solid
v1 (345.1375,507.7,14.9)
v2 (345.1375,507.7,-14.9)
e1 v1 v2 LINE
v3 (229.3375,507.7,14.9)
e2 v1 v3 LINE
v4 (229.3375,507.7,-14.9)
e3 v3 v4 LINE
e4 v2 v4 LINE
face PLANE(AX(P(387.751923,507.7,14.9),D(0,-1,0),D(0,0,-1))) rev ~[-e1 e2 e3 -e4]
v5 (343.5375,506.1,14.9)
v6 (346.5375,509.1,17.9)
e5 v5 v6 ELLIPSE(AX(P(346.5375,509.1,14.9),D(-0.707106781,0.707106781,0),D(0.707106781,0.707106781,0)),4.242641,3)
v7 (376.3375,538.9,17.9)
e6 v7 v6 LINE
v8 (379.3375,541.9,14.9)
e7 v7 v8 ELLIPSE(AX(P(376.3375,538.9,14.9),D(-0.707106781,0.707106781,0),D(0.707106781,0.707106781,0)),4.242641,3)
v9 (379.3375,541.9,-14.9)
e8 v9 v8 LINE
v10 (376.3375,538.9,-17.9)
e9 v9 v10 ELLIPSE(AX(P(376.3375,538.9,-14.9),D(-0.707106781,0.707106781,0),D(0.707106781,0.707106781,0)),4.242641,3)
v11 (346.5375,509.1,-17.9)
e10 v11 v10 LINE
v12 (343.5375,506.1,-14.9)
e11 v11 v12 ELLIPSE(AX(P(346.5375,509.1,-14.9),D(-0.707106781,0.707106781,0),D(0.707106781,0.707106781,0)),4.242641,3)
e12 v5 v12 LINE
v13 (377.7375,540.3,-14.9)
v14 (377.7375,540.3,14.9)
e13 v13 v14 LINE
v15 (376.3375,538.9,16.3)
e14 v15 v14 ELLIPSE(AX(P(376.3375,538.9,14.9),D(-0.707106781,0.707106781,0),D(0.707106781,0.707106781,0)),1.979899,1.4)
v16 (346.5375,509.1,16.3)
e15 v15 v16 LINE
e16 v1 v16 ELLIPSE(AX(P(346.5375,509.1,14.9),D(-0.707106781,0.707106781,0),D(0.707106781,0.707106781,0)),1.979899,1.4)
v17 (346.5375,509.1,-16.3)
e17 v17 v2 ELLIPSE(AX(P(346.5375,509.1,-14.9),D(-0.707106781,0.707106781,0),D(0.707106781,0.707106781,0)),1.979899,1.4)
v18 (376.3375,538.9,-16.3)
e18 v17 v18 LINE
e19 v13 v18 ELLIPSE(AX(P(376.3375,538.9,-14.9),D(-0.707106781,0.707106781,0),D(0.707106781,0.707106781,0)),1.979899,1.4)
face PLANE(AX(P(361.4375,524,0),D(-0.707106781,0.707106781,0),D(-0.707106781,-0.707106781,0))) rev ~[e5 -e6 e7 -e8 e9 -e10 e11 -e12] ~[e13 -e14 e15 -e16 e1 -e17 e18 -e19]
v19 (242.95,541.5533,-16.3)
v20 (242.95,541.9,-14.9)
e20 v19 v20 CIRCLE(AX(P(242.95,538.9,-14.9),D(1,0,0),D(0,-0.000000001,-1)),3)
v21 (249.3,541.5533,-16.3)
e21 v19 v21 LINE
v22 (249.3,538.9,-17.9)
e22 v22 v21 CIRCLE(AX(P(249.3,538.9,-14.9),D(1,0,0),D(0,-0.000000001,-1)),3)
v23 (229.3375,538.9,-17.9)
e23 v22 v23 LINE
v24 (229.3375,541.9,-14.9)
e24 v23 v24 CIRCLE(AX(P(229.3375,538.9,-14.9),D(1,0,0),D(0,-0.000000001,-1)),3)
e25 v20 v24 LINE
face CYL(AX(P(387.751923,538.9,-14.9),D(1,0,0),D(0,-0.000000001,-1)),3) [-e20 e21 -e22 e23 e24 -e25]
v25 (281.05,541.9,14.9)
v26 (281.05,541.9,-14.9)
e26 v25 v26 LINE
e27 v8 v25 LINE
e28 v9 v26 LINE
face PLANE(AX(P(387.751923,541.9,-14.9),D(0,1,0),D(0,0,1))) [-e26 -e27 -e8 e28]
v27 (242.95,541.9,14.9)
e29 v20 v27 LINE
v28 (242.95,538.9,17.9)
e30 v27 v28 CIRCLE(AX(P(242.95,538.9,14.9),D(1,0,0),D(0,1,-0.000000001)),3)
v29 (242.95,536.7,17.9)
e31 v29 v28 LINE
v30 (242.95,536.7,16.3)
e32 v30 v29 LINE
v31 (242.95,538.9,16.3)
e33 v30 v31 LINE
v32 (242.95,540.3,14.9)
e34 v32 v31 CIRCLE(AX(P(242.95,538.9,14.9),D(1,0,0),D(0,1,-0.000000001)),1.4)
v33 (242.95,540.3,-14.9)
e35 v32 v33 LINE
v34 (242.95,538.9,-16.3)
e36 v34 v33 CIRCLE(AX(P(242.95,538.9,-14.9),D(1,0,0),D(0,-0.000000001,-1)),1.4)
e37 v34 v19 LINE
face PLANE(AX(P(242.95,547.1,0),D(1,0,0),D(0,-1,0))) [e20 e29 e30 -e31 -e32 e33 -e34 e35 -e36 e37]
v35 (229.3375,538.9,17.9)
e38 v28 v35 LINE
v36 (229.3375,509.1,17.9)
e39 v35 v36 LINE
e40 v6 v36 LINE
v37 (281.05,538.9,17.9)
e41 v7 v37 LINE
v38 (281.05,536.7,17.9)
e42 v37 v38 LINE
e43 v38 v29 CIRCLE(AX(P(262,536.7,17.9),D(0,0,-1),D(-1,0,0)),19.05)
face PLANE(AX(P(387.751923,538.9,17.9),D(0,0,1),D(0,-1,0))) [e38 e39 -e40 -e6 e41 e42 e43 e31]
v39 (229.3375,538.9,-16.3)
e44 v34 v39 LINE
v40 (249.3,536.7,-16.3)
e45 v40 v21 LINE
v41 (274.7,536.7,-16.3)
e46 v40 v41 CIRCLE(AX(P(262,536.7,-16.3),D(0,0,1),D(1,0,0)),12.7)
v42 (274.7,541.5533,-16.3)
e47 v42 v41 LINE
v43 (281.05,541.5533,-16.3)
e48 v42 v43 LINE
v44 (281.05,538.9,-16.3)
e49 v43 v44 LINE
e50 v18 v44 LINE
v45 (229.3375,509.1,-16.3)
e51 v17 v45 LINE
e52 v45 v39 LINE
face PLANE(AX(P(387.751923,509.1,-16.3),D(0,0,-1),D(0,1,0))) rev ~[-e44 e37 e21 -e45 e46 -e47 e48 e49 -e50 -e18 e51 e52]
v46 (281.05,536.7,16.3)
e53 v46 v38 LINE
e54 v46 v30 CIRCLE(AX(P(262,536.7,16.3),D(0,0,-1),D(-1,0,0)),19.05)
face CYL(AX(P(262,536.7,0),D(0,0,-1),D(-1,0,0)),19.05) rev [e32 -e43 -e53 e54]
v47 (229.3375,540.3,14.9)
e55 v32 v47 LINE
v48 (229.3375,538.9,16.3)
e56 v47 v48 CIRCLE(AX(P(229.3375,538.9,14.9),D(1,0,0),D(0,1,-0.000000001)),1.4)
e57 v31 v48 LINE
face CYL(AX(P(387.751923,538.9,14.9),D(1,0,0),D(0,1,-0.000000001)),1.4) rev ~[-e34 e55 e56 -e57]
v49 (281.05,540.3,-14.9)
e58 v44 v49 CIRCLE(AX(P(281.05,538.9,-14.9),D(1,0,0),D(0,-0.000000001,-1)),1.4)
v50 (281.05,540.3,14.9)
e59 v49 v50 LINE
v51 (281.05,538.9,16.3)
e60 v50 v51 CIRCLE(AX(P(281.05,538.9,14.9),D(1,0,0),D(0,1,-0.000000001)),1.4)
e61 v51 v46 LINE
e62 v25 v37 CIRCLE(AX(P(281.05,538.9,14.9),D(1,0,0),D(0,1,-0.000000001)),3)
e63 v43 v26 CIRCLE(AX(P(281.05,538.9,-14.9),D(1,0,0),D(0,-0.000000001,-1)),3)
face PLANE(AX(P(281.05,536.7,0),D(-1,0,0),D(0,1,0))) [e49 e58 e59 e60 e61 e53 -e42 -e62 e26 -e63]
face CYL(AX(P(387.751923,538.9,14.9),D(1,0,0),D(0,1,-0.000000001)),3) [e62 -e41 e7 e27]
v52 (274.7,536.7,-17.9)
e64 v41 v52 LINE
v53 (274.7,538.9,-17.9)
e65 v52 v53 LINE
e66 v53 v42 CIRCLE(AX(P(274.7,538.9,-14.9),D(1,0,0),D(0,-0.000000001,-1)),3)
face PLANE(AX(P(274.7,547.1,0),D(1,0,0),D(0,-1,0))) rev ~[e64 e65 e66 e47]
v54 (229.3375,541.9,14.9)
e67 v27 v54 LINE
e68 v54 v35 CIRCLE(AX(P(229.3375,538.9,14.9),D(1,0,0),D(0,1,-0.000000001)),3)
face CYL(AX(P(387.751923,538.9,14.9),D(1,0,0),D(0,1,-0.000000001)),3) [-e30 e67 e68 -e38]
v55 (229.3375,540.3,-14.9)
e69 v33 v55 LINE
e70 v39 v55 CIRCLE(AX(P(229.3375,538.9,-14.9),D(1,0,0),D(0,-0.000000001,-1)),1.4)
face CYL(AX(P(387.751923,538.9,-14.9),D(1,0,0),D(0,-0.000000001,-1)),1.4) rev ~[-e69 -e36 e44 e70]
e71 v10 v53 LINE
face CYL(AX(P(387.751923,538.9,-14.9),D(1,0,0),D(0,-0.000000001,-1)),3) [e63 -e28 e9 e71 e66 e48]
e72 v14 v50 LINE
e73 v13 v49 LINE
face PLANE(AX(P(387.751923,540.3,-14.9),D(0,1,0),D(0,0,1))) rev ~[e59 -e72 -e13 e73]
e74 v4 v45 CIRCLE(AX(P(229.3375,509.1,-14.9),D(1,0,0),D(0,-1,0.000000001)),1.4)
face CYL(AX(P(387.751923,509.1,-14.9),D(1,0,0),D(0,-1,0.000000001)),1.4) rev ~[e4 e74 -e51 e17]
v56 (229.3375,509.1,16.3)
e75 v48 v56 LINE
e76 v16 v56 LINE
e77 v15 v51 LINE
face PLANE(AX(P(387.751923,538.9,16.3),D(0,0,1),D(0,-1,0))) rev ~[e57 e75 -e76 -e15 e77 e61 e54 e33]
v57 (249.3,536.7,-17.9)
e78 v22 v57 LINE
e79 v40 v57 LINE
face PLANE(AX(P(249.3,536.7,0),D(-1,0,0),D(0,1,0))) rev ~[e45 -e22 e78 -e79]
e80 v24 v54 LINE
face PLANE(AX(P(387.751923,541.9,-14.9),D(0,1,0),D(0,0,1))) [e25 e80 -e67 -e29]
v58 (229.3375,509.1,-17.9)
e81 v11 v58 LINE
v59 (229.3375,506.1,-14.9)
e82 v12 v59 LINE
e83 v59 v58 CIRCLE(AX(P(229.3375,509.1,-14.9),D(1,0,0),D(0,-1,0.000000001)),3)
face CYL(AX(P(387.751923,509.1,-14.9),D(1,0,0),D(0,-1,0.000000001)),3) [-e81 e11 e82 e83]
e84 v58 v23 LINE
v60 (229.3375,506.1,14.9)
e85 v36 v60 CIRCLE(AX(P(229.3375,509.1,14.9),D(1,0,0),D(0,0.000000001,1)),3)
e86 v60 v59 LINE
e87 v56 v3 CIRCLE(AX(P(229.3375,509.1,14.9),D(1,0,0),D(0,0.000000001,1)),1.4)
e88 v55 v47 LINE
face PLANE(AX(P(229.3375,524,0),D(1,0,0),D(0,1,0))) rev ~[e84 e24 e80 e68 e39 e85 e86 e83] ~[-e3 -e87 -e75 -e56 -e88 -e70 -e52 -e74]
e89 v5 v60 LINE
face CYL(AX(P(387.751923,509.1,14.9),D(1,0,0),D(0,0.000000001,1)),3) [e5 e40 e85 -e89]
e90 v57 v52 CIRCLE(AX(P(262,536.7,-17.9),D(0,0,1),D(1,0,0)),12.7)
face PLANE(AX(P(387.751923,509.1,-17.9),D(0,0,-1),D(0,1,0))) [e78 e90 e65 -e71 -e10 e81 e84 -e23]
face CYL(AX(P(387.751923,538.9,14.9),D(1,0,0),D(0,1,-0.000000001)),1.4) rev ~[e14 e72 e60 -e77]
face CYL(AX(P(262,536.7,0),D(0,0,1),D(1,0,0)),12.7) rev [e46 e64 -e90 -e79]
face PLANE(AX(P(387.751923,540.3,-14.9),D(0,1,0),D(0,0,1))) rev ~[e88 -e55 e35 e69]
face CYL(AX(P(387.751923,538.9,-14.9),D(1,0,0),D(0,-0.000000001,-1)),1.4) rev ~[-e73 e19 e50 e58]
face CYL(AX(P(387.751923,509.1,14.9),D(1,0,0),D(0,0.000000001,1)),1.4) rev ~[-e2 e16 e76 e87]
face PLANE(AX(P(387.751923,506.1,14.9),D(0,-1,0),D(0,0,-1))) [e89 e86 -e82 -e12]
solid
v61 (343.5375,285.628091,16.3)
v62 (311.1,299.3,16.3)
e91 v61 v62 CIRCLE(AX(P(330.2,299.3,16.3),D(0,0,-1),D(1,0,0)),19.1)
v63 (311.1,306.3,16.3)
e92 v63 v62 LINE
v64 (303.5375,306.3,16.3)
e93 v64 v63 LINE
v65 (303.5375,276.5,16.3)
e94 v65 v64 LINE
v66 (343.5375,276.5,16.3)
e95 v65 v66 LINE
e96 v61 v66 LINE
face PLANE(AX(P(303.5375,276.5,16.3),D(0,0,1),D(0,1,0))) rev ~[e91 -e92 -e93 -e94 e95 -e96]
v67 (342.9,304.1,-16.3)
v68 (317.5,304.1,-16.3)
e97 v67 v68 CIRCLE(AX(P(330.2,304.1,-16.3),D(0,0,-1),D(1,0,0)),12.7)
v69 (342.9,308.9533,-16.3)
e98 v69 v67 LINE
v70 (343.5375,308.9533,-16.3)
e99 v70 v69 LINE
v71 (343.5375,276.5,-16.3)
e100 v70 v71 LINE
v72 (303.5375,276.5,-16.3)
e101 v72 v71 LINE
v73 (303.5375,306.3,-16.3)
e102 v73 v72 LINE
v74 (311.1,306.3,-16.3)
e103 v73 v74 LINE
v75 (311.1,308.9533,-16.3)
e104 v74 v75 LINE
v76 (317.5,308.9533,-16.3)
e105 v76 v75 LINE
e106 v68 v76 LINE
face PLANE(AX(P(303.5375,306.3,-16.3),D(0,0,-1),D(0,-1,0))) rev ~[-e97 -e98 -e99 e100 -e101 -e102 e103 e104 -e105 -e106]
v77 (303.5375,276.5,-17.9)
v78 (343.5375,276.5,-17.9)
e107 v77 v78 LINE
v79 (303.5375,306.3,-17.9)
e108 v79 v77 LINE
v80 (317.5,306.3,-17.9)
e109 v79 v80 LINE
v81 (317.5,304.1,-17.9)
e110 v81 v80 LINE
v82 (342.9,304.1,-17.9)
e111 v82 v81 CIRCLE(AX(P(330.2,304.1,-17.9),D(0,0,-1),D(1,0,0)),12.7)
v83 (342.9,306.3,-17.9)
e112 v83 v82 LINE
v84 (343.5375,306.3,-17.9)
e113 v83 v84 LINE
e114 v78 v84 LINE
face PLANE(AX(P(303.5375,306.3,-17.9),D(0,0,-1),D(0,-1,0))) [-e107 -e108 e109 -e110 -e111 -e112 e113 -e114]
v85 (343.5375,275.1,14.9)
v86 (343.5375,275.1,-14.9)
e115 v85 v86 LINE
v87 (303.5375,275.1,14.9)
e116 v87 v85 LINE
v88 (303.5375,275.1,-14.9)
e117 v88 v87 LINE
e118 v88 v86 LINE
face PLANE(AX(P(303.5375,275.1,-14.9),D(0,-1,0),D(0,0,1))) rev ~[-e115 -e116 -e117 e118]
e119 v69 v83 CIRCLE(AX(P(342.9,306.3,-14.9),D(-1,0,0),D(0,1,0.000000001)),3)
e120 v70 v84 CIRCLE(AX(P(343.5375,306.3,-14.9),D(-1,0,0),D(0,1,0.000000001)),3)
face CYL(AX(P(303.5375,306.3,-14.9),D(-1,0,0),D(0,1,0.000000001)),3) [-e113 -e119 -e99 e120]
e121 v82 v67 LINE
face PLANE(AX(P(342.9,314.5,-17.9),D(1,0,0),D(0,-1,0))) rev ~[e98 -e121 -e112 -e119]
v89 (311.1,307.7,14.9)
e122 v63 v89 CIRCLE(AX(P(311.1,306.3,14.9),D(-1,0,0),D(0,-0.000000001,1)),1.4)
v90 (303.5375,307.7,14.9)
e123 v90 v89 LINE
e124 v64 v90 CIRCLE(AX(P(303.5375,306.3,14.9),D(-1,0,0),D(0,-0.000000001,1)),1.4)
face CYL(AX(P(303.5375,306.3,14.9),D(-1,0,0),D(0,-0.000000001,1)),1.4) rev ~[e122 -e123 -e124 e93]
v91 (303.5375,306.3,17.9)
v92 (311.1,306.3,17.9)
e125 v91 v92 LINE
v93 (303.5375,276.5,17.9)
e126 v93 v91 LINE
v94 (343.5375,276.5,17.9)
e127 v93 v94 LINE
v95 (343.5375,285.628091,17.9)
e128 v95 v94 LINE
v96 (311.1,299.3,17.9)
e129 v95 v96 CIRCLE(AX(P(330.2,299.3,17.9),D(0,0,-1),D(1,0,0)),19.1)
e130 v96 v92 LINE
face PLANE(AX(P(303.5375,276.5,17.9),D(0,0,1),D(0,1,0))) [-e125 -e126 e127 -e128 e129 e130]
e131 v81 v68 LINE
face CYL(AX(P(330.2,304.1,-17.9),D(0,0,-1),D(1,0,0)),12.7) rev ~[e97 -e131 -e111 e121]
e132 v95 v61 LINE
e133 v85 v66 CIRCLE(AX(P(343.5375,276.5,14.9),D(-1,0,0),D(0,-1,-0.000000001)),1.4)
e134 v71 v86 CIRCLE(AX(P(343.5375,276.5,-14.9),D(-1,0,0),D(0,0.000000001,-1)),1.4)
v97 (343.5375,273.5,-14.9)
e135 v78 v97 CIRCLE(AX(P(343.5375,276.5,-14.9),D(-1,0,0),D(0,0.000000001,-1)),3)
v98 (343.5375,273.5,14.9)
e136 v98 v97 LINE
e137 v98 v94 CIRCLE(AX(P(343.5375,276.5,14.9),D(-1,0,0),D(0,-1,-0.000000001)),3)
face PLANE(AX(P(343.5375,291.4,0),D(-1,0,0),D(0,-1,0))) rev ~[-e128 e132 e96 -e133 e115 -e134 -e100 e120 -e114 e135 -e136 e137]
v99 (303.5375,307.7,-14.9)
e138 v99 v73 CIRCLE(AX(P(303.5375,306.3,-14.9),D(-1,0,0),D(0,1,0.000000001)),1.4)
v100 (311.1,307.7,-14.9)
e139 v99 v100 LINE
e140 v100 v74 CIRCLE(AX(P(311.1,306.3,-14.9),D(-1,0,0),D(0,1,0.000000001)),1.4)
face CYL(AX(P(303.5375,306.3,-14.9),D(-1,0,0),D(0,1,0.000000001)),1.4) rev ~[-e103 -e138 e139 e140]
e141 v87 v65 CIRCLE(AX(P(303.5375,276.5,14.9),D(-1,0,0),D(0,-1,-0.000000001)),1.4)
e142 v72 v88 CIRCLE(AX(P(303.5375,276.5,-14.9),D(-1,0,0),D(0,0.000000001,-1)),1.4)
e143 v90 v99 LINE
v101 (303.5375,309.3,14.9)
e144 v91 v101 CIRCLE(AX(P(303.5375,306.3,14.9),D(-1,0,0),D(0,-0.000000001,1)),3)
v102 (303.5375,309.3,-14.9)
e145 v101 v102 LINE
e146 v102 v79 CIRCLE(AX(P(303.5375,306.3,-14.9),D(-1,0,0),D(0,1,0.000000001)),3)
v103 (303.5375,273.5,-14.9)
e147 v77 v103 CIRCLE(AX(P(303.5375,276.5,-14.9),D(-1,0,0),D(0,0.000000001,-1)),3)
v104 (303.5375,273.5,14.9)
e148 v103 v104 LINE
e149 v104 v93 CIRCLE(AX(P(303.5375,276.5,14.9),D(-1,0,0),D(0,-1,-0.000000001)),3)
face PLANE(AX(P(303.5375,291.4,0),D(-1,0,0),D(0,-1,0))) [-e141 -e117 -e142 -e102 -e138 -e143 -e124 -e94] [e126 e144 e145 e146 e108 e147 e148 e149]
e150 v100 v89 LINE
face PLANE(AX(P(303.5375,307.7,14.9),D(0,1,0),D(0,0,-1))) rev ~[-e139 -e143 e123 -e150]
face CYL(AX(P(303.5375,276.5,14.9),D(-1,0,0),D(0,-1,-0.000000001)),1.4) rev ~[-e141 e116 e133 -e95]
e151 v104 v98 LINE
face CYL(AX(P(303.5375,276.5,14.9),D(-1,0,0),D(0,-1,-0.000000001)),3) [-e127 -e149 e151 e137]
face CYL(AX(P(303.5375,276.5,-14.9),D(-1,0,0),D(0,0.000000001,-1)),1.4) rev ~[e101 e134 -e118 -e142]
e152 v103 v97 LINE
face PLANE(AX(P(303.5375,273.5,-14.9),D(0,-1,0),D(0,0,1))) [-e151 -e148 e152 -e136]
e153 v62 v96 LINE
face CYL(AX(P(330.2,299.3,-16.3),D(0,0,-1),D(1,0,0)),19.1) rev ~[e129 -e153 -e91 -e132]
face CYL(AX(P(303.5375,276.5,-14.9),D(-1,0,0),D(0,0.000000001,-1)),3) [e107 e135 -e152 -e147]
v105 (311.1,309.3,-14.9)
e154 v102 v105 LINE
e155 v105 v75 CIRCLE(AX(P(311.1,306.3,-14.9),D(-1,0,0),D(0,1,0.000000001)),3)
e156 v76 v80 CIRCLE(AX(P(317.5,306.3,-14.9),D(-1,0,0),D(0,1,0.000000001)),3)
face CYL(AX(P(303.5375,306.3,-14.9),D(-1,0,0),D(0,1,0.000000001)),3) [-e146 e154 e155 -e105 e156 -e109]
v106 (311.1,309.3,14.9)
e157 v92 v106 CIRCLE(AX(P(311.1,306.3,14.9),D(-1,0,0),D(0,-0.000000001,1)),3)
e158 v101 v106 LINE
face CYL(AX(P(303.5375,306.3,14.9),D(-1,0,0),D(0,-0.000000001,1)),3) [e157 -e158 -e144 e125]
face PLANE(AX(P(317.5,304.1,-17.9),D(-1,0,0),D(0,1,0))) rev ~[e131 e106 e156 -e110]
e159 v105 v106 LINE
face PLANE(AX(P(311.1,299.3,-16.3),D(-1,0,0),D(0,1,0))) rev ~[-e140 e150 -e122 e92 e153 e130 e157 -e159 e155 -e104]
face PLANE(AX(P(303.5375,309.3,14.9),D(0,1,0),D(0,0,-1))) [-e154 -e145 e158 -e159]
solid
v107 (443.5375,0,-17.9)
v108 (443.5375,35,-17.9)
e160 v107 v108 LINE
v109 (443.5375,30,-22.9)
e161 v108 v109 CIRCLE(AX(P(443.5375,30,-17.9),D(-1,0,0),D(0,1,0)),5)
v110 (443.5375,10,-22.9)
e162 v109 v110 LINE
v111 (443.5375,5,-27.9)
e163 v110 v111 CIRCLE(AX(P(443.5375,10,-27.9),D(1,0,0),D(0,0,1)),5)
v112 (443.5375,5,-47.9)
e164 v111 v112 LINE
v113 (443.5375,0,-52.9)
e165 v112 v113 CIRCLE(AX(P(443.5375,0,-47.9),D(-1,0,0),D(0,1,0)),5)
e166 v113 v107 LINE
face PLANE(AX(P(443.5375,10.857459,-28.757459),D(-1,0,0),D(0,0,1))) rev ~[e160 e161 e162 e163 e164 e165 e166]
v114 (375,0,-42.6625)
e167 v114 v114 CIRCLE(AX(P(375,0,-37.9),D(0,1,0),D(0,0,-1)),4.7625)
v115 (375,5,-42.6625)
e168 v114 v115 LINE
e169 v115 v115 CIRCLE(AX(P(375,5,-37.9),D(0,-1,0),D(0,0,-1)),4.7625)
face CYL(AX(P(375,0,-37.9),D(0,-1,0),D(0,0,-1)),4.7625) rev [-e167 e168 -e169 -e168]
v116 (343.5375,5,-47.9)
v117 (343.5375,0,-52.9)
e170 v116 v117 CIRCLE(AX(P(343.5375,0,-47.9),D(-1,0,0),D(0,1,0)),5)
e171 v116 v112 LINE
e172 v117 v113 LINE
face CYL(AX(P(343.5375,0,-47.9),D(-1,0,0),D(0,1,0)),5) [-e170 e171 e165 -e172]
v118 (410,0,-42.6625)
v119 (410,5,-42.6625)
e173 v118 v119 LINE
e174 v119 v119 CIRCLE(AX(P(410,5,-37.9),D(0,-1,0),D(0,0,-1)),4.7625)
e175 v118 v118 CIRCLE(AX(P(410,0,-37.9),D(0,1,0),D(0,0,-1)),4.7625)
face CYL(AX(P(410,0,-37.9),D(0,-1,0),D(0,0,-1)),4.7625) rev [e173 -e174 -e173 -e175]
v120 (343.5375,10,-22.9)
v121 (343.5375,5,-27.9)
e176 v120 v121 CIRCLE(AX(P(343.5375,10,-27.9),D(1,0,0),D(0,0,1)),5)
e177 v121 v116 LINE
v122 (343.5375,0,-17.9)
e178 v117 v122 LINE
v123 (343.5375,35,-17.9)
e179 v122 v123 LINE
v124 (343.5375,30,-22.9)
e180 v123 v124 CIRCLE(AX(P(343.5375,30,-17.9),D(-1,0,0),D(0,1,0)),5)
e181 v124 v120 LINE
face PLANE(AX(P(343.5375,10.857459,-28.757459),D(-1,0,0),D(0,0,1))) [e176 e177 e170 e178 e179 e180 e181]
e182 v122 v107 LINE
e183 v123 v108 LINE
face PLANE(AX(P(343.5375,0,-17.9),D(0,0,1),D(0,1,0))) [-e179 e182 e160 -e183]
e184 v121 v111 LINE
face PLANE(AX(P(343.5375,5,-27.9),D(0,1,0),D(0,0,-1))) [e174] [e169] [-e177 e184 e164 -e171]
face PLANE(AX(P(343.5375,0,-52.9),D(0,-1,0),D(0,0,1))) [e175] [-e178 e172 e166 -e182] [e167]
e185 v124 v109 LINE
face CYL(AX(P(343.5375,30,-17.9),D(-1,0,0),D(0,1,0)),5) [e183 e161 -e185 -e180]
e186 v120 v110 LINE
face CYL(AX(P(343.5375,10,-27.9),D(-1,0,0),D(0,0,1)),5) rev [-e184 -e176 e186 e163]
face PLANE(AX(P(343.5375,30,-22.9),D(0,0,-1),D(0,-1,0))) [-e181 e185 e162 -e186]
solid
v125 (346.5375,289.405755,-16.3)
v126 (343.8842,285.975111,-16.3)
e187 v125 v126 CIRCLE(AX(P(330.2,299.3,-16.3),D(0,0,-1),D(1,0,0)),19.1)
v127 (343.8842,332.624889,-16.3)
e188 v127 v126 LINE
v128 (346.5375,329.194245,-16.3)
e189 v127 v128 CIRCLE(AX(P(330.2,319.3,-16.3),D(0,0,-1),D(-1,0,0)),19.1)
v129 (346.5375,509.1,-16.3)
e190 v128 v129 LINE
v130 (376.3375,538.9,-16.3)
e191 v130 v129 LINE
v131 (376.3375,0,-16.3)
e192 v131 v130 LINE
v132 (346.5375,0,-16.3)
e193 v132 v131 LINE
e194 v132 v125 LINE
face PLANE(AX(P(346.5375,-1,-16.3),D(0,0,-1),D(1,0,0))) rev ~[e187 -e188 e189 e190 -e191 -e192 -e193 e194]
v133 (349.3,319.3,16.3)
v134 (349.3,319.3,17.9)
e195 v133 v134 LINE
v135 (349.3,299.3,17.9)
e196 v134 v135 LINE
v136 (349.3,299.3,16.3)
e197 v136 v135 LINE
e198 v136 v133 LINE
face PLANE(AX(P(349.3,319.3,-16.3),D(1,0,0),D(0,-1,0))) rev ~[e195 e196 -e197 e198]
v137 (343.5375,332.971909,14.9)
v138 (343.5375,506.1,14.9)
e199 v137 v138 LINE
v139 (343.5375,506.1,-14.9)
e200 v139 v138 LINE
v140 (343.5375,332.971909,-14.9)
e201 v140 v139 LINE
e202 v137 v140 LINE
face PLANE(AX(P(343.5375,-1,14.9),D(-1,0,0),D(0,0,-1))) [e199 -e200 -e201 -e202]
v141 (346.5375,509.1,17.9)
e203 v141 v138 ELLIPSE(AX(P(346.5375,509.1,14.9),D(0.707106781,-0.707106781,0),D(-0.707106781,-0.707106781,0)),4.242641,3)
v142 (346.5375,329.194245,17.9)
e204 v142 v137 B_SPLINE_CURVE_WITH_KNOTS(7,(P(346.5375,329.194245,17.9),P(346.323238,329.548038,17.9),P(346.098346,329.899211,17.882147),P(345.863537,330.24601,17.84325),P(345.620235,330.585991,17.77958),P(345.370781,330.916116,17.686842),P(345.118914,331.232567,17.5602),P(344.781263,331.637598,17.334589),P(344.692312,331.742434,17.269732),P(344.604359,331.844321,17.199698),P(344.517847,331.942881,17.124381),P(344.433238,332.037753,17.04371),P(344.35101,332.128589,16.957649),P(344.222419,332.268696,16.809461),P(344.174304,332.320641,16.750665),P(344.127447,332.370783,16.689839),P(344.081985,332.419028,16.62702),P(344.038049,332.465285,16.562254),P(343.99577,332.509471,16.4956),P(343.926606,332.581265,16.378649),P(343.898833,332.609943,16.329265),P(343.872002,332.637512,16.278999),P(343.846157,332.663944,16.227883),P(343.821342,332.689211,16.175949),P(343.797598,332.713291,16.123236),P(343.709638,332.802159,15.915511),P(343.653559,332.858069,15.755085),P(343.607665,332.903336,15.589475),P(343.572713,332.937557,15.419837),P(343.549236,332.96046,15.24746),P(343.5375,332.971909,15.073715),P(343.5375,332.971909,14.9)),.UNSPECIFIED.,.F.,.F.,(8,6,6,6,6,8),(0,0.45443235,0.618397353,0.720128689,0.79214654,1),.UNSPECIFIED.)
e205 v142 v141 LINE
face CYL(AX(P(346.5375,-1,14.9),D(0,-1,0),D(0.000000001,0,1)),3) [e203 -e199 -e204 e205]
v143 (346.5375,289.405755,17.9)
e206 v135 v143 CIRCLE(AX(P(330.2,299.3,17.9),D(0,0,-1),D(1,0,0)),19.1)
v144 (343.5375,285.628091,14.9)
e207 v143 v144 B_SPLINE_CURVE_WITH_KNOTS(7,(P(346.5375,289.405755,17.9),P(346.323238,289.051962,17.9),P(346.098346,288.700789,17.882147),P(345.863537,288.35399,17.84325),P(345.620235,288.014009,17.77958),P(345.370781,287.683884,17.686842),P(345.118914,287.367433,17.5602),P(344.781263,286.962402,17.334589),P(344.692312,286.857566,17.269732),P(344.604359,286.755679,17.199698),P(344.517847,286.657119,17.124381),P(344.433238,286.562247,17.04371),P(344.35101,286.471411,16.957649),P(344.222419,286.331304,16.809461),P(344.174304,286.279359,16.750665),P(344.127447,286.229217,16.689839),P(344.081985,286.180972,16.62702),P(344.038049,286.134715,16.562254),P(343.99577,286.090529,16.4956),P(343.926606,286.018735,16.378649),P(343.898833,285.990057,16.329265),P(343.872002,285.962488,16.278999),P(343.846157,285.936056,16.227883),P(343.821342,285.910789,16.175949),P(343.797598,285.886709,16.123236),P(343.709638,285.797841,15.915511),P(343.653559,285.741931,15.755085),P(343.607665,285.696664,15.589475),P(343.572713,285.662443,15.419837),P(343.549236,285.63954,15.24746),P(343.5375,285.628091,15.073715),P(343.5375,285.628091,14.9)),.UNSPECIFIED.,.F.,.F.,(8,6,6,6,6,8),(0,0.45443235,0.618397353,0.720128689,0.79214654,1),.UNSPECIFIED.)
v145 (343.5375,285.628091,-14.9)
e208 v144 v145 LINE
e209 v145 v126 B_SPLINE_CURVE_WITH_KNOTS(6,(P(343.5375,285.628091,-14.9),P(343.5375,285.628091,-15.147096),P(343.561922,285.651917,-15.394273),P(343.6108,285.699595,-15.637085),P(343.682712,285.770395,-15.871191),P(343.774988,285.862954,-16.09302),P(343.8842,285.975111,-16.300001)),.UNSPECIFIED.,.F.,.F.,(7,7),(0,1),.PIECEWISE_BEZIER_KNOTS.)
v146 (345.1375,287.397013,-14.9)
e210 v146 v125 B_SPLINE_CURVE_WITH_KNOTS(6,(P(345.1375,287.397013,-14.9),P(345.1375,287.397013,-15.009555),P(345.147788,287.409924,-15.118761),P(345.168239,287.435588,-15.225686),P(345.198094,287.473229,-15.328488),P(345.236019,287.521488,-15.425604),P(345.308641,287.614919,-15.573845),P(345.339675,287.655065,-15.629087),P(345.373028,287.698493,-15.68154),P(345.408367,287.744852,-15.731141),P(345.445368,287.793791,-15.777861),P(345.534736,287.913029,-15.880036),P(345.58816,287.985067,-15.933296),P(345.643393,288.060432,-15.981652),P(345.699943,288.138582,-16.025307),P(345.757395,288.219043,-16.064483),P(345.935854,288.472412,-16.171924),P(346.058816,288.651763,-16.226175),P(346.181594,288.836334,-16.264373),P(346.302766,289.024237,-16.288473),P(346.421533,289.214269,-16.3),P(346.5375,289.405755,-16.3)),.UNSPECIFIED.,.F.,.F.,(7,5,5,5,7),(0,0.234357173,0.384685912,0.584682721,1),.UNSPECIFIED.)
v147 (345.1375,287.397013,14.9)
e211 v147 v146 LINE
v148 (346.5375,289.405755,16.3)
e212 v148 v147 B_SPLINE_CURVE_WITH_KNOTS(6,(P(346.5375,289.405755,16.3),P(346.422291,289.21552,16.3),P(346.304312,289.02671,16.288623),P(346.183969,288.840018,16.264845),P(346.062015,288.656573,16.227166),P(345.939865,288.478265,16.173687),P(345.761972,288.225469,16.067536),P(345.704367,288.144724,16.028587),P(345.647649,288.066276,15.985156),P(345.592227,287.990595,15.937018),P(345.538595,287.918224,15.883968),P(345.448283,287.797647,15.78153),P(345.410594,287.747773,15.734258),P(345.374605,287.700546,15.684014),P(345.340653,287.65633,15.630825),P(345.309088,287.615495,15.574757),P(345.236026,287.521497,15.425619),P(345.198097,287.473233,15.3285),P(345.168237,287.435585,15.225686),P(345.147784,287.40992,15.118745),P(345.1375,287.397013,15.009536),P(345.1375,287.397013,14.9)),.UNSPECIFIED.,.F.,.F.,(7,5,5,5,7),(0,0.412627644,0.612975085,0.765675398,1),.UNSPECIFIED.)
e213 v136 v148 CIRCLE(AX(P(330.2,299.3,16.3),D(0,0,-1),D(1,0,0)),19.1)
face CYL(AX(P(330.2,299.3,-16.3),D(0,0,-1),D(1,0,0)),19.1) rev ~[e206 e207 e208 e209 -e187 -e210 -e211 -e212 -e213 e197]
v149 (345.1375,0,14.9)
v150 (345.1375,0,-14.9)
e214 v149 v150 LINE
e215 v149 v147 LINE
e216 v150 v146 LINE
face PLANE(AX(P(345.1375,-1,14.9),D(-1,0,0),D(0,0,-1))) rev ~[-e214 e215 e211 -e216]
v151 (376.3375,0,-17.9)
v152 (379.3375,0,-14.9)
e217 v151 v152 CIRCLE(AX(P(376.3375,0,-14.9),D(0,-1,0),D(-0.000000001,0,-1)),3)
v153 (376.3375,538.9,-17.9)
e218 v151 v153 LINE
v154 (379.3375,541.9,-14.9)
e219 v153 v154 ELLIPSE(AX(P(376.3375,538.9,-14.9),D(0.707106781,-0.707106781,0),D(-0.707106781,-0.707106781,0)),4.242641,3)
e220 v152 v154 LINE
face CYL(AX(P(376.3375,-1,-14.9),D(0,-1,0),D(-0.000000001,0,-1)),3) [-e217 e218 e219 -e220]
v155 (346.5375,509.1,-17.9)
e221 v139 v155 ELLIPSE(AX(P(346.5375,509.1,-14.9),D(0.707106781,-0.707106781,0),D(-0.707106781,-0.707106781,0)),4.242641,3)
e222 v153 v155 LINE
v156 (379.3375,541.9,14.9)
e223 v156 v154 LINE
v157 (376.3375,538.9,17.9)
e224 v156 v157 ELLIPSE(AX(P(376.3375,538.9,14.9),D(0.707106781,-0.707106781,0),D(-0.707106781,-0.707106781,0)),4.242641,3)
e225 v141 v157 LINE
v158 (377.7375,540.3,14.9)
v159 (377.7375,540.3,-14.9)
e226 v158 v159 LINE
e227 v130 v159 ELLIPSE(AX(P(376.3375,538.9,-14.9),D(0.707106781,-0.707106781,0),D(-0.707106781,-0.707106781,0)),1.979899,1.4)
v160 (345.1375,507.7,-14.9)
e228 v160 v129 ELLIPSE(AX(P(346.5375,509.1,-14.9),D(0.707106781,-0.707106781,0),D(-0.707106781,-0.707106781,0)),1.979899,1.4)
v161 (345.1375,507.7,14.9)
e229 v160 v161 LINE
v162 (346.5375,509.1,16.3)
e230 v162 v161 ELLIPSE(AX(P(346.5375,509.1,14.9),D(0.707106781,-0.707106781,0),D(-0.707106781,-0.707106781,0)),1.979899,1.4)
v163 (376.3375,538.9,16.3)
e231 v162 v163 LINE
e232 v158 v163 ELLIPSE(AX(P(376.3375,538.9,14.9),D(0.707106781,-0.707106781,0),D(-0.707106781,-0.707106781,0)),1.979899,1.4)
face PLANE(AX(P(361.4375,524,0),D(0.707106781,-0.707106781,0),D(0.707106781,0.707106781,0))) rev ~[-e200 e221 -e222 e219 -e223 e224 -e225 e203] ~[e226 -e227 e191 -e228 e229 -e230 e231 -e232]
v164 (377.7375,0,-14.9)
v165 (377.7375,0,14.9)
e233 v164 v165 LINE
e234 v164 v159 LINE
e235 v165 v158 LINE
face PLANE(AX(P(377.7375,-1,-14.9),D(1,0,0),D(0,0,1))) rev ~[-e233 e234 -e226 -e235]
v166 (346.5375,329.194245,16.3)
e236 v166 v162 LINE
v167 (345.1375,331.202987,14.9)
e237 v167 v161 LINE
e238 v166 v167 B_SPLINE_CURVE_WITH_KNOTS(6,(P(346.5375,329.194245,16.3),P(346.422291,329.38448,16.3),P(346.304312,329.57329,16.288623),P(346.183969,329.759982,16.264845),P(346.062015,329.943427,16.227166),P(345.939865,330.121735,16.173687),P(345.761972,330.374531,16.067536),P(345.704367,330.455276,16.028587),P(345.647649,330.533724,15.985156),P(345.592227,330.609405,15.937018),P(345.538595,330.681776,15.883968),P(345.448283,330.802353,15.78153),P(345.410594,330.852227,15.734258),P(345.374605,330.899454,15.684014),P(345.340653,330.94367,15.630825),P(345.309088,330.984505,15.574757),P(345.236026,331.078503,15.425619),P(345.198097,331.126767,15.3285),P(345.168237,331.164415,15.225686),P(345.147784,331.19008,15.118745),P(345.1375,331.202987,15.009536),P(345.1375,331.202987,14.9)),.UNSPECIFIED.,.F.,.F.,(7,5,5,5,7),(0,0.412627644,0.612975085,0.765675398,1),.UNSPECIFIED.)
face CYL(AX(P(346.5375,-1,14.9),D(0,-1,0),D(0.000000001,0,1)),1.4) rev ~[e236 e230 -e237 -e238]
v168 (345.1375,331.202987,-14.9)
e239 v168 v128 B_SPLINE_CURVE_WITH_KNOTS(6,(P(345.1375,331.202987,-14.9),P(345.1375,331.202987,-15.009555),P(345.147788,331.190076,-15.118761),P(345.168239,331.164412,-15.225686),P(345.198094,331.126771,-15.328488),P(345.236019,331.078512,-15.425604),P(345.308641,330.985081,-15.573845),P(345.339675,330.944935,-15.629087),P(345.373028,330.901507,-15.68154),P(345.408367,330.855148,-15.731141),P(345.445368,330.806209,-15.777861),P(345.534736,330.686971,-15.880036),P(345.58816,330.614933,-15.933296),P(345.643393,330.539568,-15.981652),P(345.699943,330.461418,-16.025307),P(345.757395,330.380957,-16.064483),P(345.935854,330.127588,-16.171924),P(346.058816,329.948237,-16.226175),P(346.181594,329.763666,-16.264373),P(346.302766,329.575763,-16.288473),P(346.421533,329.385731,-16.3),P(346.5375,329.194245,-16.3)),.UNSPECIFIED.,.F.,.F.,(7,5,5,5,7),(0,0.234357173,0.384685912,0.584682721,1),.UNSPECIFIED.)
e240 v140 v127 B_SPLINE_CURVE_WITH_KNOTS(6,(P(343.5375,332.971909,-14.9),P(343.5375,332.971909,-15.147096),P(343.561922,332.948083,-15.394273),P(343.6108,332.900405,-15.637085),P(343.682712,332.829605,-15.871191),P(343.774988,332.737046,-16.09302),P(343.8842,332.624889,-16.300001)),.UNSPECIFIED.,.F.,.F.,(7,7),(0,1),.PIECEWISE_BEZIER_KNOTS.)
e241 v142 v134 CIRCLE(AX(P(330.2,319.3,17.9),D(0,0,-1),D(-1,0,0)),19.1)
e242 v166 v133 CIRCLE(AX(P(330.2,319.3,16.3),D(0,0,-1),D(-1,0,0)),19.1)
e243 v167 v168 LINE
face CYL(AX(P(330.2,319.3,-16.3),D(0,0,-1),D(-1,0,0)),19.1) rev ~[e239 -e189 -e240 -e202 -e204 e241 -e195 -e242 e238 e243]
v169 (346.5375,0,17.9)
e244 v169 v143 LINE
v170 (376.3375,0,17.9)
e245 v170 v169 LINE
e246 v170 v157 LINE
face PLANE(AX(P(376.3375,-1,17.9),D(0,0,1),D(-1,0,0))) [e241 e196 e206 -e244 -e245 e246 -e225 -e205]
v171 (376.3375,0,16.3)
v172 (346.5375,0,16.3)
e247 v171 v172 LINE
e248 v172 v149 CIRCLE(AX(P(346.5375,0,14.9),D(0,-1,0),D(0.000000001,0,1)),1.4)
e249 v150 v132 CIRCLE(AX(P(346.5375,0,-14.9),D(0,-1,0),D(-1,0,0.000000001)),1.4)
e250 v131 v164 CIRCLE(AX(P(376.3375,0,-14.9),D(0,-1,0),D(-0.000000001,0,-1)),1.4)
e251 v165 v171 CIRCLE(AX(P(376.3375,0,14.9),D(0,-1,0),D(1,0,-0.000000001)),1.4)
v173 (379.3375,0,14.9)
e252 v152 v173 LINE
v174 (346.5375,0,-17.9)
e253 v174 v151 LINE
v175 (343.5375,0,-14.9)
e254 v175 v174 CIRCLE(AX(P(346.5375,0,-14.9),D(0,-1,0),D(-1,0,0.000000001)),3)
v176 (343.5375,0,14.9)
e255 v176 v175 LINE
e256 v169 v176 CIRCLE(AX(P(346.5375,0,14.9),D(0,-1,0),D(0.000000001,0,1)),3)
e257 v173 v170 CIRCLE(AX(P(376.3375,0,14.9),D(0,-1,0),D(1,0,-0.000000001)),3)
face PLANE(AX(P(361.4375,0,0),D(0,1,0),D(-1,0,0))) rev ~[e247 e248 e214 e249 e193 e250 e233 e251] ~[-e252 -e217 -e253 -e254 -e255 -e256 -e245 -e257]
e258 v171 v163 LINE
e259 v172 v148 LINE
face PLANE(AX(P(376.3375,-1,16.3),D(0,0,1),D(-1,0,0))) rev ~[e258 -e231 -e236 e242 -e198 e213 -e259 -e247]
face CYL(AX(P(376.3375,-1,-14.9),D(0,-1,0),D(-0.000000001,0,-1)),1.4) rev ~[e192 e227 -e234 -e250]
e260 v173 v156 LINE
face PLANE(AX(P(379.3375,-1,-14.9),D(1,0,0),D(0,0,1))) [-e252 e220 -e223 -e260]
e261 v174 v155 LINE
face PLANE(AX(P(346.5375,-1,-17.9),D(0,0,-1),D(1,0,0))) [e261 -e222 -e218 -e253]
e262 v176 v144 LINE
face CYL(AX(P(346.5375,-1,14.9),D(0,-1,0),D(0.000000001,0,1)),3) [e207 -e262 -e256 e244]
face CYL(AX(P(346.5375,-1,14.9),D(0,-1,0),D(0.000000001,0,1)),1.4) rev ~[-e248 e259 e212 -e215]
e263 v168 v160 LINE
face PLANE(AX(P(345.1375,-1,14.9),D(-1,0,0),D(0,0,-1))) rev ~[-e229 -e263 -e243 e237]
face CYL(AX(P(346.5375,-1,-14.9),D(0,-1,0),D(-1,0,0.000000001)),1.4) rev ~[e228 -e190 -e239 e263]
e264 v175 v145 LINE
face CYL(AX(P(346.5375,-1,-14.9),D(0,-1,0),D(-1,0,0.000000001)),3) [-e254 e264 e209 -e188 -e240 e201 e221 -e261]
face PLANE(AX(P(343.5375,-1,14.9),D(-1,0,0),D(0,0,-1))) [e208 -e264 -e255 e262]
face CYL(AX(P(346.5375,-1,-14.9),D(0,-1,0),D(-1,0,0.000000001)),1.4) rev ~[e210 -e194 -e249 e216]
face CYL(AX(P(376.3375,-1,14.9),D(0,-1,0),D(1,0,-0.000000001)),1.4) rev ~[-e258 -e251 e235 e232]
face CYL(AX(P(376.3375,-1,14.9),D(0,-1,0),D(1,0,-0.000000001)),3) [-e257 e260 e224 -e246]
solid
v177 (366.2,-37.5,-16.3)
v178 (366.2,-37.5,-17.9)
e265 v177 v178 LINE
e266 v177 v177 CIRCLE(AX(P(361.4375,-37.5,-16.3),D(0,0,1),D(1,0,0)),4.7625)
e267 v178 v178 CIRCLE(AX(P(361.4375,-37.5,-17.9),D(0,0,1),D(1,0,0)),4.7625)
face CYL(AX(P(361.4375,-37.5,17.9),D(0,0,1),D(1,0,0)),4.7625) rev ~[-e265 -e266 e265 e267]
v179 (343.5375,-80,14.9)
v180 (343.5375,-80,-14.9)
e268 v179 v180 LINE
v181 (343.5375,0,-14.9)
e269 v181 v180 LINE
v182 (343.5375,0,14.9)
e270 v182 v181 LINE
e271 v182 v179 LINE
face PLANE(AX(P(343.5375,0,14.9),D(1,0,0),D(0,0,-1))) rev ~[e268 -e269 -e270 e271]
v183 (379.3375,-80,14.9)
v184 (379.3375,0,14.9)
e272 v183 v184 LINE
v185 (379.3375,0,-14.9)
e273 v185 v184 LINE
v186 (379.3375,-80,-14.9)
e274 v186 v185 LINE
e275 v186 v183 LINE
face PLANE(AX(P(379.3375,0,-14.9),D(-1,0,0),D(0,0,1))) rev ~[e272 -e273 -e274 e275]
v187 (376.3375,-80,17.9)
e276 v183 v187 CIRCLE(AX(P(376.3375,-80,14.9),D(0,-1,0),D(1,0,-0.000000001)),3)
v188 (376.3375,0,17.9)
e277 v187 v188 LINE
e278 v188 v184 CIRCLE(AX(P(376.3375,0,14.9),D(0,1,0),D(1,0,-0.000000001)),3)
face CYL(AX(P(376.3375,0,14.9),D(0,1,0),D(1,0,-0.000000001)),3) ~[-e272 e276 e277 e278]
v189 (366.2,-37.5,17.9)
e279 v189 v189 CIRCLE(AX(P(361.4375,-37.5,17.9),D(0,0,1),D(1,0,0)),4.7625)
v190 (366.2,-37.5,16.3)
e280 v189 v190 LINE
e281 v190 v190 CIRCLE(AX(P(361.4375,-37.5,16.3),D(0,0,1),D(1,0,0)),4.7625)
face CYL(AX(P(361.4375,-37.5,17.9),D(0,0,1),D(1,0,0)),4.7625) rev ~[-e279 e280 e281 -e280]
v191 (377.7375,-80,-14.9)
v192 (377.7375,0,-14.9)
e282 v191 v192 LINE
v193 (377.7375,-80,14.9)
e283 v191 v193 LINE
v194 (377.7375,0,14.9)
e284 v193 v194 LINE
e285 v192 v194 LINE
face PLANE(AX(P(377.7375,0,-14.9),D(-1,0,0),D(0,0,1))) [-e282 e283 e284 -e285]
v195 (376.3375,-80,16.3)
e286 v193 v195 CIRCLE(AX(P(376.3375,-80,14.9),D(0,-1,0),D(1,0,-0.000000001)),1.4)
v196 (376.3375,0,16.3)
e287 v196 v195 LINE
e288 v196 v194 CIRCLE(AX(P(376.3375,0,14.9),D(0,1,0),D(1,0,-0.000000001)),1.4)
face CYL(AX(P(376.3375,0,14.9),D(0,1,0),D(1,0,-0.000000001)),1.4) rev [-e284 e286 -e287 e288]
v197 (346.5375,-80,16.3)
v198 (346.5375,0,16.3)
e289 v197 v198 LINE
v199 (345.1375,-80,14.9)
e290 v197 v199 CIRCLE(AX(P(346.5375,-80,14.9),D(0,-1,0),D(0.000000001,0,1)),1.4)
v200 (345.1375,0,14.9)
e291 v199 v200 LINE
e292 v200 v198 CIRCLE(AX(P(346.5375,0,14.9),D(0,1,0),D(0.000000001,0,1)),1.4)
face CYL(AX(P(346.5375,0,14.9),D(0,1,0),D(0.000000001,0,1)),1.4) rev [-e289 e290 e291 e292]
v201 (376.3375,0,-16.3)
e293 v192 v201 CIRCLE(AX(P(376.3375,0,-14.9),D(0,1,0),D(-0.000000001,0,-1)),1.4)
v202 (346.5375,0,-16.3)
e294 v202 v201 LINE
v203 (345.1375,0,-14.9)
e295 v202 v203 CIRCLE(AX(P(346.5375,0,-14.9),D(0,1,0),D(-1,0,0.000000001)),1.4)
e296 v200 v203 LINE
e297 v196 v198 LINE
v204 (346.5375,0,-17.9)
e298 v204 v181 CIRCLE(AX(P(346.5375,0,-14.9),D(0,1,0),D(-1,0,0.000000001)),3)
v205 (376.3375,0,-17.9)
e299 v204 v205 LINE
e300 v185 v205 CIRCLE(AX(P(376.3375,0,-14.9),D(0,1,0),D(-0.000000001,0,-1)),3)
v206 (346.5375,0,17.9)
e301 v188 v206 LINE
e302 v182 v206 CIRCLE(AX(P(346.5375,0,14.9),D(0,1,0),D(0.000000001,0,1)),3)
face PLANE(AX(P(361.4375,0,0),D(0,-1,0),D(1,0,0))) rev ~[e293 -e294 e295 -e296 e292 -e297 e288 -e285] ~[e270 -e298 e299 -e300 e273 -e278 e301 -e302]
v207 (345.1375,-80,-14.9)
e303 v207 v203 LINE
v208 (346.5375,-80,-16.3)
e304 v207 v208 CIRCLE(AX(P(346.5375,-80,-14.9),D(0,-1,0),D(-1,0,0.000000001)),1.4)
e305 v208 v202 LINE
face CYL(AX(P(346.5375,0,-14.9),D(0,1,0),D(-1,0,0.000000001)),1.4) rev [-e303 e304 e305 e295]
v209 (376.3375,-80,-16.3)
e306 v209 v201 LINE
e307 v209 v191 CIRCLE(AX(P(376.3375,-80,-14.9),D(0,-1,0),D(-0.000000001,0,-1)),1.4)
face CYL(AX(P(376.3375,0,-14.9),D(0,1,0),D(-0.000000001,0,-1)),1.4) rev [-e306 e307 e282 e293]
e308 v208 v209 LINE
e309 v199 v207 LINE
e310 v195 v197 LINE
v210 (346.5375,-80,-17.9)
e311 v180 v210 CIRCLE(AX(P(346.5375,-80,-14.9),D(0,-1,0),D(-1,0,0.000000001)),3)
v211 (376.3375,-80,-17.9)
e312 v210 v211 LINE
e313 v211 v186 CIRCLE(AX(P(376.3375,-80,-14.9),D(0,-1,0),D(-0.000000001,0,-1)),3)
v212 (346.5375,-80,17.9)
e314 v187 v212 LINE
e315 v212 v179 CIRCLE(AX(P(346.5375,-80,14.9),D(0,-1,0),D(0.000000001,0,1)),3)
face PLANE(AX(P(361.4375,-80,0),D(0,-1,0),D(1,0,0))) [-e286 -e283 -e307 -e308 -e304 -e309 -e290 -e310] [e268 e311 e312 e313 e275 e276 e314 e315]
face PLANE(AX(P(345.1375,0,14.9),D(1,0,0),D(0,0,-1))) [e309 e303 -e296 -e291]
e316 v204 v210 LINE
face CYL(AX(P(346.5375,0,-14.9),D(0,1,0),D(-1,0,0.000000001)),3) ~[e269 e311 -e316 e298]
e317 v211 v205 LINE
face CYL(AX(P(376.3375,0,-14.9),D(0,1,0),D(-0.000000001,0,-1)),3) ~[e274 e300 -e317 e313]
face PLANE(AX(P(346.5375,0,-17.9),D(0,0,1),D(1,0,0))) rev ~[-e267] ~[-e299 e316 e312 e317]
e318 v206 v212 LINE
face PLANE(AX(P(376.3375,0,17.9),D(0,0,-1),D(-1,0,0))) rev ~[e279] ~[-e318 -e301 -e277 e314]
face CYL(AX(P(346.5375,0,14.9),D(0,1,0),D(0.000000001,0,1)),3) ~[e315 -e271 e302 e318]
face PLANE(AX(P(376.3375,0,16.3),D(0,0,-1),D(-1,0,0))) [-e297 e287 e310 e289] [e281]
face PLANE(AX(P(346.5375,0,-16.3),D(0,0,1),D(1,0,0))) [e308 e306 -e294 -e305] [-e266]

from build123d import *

# Parameters (mm, degrees)
STRUCTURAL_MEMBERMAIN_DEPTH                   = 1
STRUCTURAL_MEMBERMAIN_DEPTH_BACK              = 80
STRUCTURAL_MEMBERMAIN_2_DEPTH                 = 551.314422766
STRUCTURAL_MEMBERMAIN_3_DEPTH                 = 158.414422766
STRUCTURAL_MEMBERMAIN_4_DEPTH                 = 58.9
CUT_EXTRUDETOPRAILGUIDE_DEPTH                 = 662.71969814
CUT_EXTRUDETOPRAILGUIDE_DEPTH_BACK            = 662.71969814
STRUCTURAL_MEMBERANGLE_DEPTH                  = 100
SKETCH15_R                                    = 4.7625
CUT_EXTRUDEMOUNTINGHOLES_DEPTH                = 703.267423355
CUT_EXTRUDEENLARGERAILGUIDE_REACH             = 704.267
CUT_EXTRUDEENLARGERAILGUIDE_DIRECTION_2_DEPTH = 703.267423355
CUT_EXTRUDE1_DEPTH                            = 702.186682636
CUT_EXTRUDE2_START                            = -34.2
CUT_EXTRUDE2_DEPTH                            = 34.2
SKETCH19_R                                    = 4.7625
CUT_EXTRUDE3_DEPTH                            = 704.842144167


with BuildPart() as part:
    # Sketch11 → Structural MemberMain (new, two sides)
    with BuildSketch(Plane(origin=(361.4375, 0, 0), x_dir=(-1, 0, 0), z_dir=(0, 1, 0))) as structural_membermain_sk:
        with BuildLine():
            Line((-14.9, 17.9), (14.9, 17.9))
            ThreePointArc((14.9, 17.9), (17.021320344, 17.021320344), (17.9, 14.9))
            Line((17.9, 14.9), (17.9, -14.9))
            ThreePointArc((17.9, -14.9), (17.021320344, -17.021320344), (14.9, -17.9))
            Line((14.9, -17.9), (-14.9, -17.9))
            ThreePointArc((-14.9, -17.9), (-17.021320344, -17.021320344), (-17.9, -14.9))
            Line((-17.9, -14.9), (-17.9, 14.9))
            ThreePointArc((-17.9, 14.9), (-17.021320344, 17.021320344), (-14.9, 17.9))
        make_face()
        with BuildLine():
            Line((-14.9, 16.3), (14.9, 16.3))
            ThreePointArc((14.9, 16.3), (15.889949494, 15.889949494), (16.3, 14.9))
            Line((16.3, 14.9), (16.3, -14.9))
            ThreePointArc((16.3, -14.9), (15.889949494, -15.889949494), (14.9, -16.3))
            Line((14.9, -16.3), (-14.9, -16.3))
            ThreePointArc((-14.9, -16.3), (-15.889949494, -15.889949494), (-16.3, -14.9))
            Line((-16.3, -14.9), (-16.3, 14.9))
            ThreePointArc((-16.3, 14.9), (-15.889949494, 15.889949494), (-14.9, 16.3))
        make_face(mode=Mode.SUBTRACT)
    extrude(amount=STRUCTURAL_MEMBERMAIN_DEPTH)
    extrude(structural_membermain_sk.sketch, amount=-STRUCTURAL_MEMBERMAIN_DEPTH_BACK)

    # Structural MemberMain mitre 1
    split(bisect_by=Plane(origin=(361.4375, 0, 0), x_dir=(1, 0, 0), z_dir=(0, -1, 0)), keep=Keep.TOP)

    # Sketch19 → Cut-Extrude3 (cut, through all)
    with BuildSketch(Plane.XY.offset(17.9)):
        with Locations((361.4375, -37.5)):
            Circle(SKETCH19_R)
    extrude(amount=-CUT_EXTRUDE3_DEPTH, mode=Mode.SUBTRACT)


with BuildPart() as body_2:
    # Sketch11 on segment 2 (carried to segment 2) → Structural MemberMain 2 (new body)
    with BuildSketch(Plane(origin=(361.4375, -1, 0), x_dir=(-1, 0, 0), z_dir=(0, 1, 0))):
        with BuildLine():
            Line((-14.9, 17.9), (14.9, 17.9))
            ThreePointArc((14.9, 17.9), (17.021320344, 17.021320344), (17.9, 14.9))
            Line((17.9, 14.9), (17.9, -14.9))
            ThreePointArc((17.9, -14.9), (17.021320344, -17.021320344), (14.9, -17.9))
            Line((14.9, -17.9), (-14.9, -17.9))
            ThreePointArc((-14.9, -17.9), (-17.021320344, -17.021320344), (-17.9, -14.9))
            Line((-17.9, -14.9), (-17.9, 14.9))
            ThreePointArc((-17.9, 14.9), (-17.021320344, 17.021320344), (-14.9, 17.9))
        make_face()
        with BuildLine():
            Line((-14.9, 16.3), (14.9, 16.3))
            ThreePointArc((14.9, 16.3), (15.889949494, 15.889949494), (16.3, 14.9))
            Line((16.3, 14.9), (16.3, -14.9))
            ThreePointArc((16.3, -14.9), (15.889949494, -15.889949494), (14.9, -16.3))
            Line((14.9, -16.3), (-14.9, -16.3))
            ThreePointArc((-14.9, -16.3), (-15.889949494, -15.889949494), (-16.3, -14.9))
            Line((-16.3, -14.9), (-16.3, 14.9))
            ThreePointArc((-16.3, 14.9), (-15.889949494, 15.889949494), (-14.9, 16.3))
        make_face(mode=Mode.SUBTRACT)
    extrude(amount=STRUCTURAL_MEMBERMAIN_2_DEPTH)

    # Structural MemberMain 2 mitre 1
    split(bisect_by=Plane(origin=(361.4375, 0, 0), x_dir=(-1, 0, 0), z_dir=(0, 1, 0)), keep=Keep.TOP)

    # Structural MemberMain 2 mitre 2
    split(bisect_by=Plane(origin=(361.4375, 524, 0), x_dir=(0.707106781, 0.707106781, 0), z_dir=(0.707106781, -0.707106781, 0)), keep=Keep.TOP)


with BuildPart() as body_3:
    # Sketch11 on segment 3 (carried to segment 3) → Structural MemberMain 3 (new body)
    with BuildSketch(Plane(origin=(387.751922766, 524, 0), x_dir=(0, -1, 0), z_dir=(-1, 0, 0))):
        with BuildLine():
            Line((-14.9, 17.9), (14.9, 17.9))
            ThreePointArc((14.9, 17.9), (17.021320344, 17.021320344), (17.9, 14.9))
            Line((17.9, 14.9), (17.9, -14.9))
            ThreePointArc((17.9, -14.9), (17.021320344, -17.021320344), (14.9, -17.9))
            Line((14.9, -17.9), (-14.9, -17.9))
            ThreePointArc((-14.9, -17.9), (-17.021320344, -17.021320344), (-17.9, -14.9))
            Line((-17.9, -14.9), (-17.9, 14.9))
            ThreePointArc((-17.9, 14.9), (-17.021320344, 17.021320344), (-14.9, 17.9))
        make_face()
        with BuildLine():
            Line((-14.9, 16.3), (14.9, 16.3))
            ThreePointArc((14.9, 16.3), (15.889949494, 15.889949494), (16.3, 14.9))
            Line((16.3, 14.9), (16.3, -14.9))
            ThreePointArc((16.3, -14.9), (15.889949494, -15.889949494), (14.9, -16.3))
            Line((14.9, -16.3), (-14.9, -16.3))
            ThreePointArc((-14.9, -16.3), (-15.889949494, -15.889949494), (-16.3, -14.9))
            Line((-16.3, -14.9), (-16.3, 14.9))
            ThreePointArc((-16.3, 14.9), (-15.889949494, 15.889949494), (-14.9, 16.3))
        make_face(mode=Mode.SUBTRACT)
    extrude(amount=STRUCTURAL_MEMBERMAIN_3_DEPTH)

    # Structural MemberMain 3 mitre 1
    split(bisect_by=Plane(origin=(361.4375, 524, 0), x_dir=(-0.707106781, -0.707106781, 0), z_dir=(-0.707106781, 0.707106781, 0)), keep=Keep.TOP)

    # Sketch12 → Cut-ExtrudeTopRailGuide (cut, two sides)
    with BuildSketch(Plane.XY) as cut_extrudetoprailguide_sk:
        with BuildLine():
            Line((249.3, 536.7), (249.3, 547.1))
            ThreePointArc((249.3, 547.1), (262, 559.8), (274.7, 547.1))
            Line((274.7, 547.1), (274.7, 536.7))
            ThreePointArc((274.7, 536.7), (262, 524), (249.3, 536.7))
        make_face()
    extrude(amount=CUT_EXTRUDETOPRAILGUIDE_DEPTH, mode=Mode.SUBTRACT)
    extrude(cut_extrudetoprailguide_sk.sketch, amount=-CUT_EXTRUDETOPRAILGUIDE_DEPTH_BACK, mode=Mode.SUBTRACT)

    # Cut-ExtrudeEnlargeRailGuide: up to this face of the body (flat: up to its plane)
    cut_extrudeenlargerailguide_end = Plane(body_3.part.faces().sort_by_distance((298.537789585, 523.884806009, -16.3))[0])
    # Sketch16 → Cut-ExtrudeEnlargeRailGuide (cut, up to the picked face)
    with BuildSketch(Plane.XY, mode=Mode.PRIVATE) as cut_extrudeenlargerailguide_sk1:
        with BuildLine():
            Line((281.05, 536.7), (281.05, 547.1))
            ThreePointArc((281.05, 547.1), (262, 566.15), (242.95, 547.1))
            Line((242.95, 547.1), (242.95, 536.7))
            ThreePointArc((242.95, 536.7), (262, 517.65), (281.05, 536.7))
        make_face()
    cut_extrudeenlargerailguide_tool1 = split(extrude(cut_extrudeenlargerailguide_sk1.sketch, amount=-CUT_EXTRUDEENLARGERAILGUIDE_REACH, mode=Mode.PRIVATE), bisect_by=cut_extrudeenlargerailguide_end, keep=Keep.BOTH, mode=Mode.PRIVATE)
    add(cut_extrudeenlargerailguide_tool1.solids().sort_by(Axis((262, 541.9, 0), (0, 0, -1)))[0], mode=Mode.SUBTRACT)

    # Sketch16 → Cut-ExtrudeEnlargeRailGuide direction 2 (cut)
    with BuildSketch(Plane.XY):
        with BuildLine():
            Line((281.05, 536.7), (281.05, 547.1))
            ThreePointArc((281.05, 547.1), (262, 566.15), (242.95, 547.1))
            Line((242.95, 547.1), (242.95, 536.7))
            ThreePointArc((242.95, 536.7), (262, 517.65), (281.05, 536.7))
        make_face()
    extrude(amount=CUT_EXTRUDEENLARGERAILGUIDE_DIRECTION_2_DEPTH, mode=Mode.SUBTRACT)


with BuildPart() as body_4:
    # Sketch11 on segment 4 (carried to segment 4) → Structural MemberMain 4 (new body)
    with BuildSketch(Plane(origin=(303.5375, 291.4, 0), x_dir=(0, 1, 0), z_dir=(1, 0, 0))):
        with BuildLine():
            Line((-14.9, 17.9), (14.9, 17.9))
            ThreePointArc((14.9, 17.9), (17.021320344, 17.021320344), (17.9, 14.9))
            Line((17.9, 14.9), (17.9, -14.9))
            ThreePointArc((17.9, -14.9), (17.021320344, -17.021320344), (14.9, -17.9))
            Line((14.9, -17.9), (-14.9, -17.9))
            ThreePointArc((-14.9, -17.9), (-17.021320344, -17.021320344), (-17.9, -14.9))
            Line((-17.9, -14.9), (-17.9, 14.9))
            ThreePointArc((-17.9, 14.9), (-17.021320344, 17.021320344), (-14.9, 17.9))
        make_face()
        with BuildLine():
            Line((-14.9, 16.3), (14.9, 16.3))
            ThreePointArc((14.9, 16.3), (15.889949494, 15.889949494), (16.3, 14.9))
            Line((16.3, 14.9), (16.3, -14.9))
            ThreePointArc((16.3, -14.9), (15.889949494, -15.889949494), (14.9, -16.3))
            Line((14.9, -16.3), (-14.9, -16.3))
            ThreePointArc((-14.9, -16.3), (-15.889949494, -15.889949494), (-16.3, -14.9))
            Line((-16.3, -14.9), (-16.3, 14.9))
            ThreePointArc((-16.3, 14.9), (-15.889949494, 15.889949494), (-14.9, 16.3))
        make_face(mode=Mode.SUBTRACT)
    extrude(amount=STRUCTURAL_MEMBERMAIN_4_DEPTH)

    # Structural MemberMain 4 mitre 1
    split(bisect_by=Plane(origin=(343.5375, 291.4, 0), x_dir=(0, -1, 0), z_dir=(-1, 0, 0)), keep=Keep.TOP)

    # Sketch17 → Cut-Extrude1 (cut, through all)
    with BuildSketch(Plane.XY.offset(-17.9)):
        with BuildLine():
            Line((317.5, 304.1), (317.5, 314.5))
            ThreePointArc((317.5, 314.5), (330.2, 327.2), (342.9, 314.5))
            Line((342.9, 314.5), (342.9, 304.1))
            ThreePointArc((342.9, 304.1), (330.2, 291.4), (317.5, 304.1))
        make_face()
    extrude(amount=CUT_EXTRUDE1_DEPTH, mode=Mode.SUBTRACT)


with BuildPart() as body_5:
    # Sketch14 → Structural MemberAngle (new body)
    with BuildSketch(Plane(origin=(343.5375, 0, -17.9), x_dir=(0, 0, -1), z_dir=(1, 0, 0))):
        with BuildLine():
            Line((0, 0), (0, 35))
            ThreePointArc((0, 35), (3.535533906, 33.535533906), (5, 30))
            Line((5, 30), (5, 10))
            ThreePointArc((5, 10), (6.464466094, 6.464466094), (10, 5))
            Line((10, 5), (30, 5))
            ThreePointArc((30, 5), (33.535533906, 3.535533906), (35, 0))
            Line((35, 0), (0, 0))
        make_face()
    extrude(amount=STRUCTURAL_MEMBERANGLE_DEPTH)

    # Sketch15 → Cut-ExtrudeMountingHoles (cut, through all)
    with BuildSketch(Plane(origin=(0, 0, 0), x_dir=(1, 0, 0), z_dir=(0, 1, 0))):
        with Locations(Location((375, 37.9, 0), (0, 0, 90))):
            Circle(SKETCH15_R)
        with Locations(Location((410, 37.9, 0), (0, 0, 90))):
            Circle(SKETCH15_R)
    extrude(amount=CUT_EXTRUDEMOUNTINGHOLES_DEPTH, mode=Mode.SUBTRACT)


with BuildPart() as cut_extrude2_tool:
    # Sketch18 → Cut-Extrude2 (new body)
    with BuildSketch(Plane.XY.offset(17.9).offset(CUT_EXTRUDE2_START)):
        with BuildLine():
            Line((349.3, 319.3), (349.3, 299.3))
            ThreePointArc((349.3, 299.3), (330.2, 280.2), (311.1, 299.3))
            Line((311.1, 299.3), (311.1, 319.3))
            ThreePointArc((311.1, 319.3), (330.2, 338.4), (349.3, 319.3))
        make_face()
    extrude(amount=CUT_EXTRUDE2_DEPTH)


with BuildPart() as body_2_1:
    add(body_2.part)

    # Cut-Extrude2: cut by cut_extrude2_tool
    add(cut_extrude2_tool.part, mode=Mode.SUBTRACT)


with BuildPart() as body_4_1:
    add(body_4.part)

    # Cut-Extrude2: cut by cut_extrude2_tool
    add(cut_extrude2_tool.part, mode=Mode.SUBTRACT)


solid = Compound([part.part, body_3.part, body_5.part, body_2_1.part, body_4_1.part])
